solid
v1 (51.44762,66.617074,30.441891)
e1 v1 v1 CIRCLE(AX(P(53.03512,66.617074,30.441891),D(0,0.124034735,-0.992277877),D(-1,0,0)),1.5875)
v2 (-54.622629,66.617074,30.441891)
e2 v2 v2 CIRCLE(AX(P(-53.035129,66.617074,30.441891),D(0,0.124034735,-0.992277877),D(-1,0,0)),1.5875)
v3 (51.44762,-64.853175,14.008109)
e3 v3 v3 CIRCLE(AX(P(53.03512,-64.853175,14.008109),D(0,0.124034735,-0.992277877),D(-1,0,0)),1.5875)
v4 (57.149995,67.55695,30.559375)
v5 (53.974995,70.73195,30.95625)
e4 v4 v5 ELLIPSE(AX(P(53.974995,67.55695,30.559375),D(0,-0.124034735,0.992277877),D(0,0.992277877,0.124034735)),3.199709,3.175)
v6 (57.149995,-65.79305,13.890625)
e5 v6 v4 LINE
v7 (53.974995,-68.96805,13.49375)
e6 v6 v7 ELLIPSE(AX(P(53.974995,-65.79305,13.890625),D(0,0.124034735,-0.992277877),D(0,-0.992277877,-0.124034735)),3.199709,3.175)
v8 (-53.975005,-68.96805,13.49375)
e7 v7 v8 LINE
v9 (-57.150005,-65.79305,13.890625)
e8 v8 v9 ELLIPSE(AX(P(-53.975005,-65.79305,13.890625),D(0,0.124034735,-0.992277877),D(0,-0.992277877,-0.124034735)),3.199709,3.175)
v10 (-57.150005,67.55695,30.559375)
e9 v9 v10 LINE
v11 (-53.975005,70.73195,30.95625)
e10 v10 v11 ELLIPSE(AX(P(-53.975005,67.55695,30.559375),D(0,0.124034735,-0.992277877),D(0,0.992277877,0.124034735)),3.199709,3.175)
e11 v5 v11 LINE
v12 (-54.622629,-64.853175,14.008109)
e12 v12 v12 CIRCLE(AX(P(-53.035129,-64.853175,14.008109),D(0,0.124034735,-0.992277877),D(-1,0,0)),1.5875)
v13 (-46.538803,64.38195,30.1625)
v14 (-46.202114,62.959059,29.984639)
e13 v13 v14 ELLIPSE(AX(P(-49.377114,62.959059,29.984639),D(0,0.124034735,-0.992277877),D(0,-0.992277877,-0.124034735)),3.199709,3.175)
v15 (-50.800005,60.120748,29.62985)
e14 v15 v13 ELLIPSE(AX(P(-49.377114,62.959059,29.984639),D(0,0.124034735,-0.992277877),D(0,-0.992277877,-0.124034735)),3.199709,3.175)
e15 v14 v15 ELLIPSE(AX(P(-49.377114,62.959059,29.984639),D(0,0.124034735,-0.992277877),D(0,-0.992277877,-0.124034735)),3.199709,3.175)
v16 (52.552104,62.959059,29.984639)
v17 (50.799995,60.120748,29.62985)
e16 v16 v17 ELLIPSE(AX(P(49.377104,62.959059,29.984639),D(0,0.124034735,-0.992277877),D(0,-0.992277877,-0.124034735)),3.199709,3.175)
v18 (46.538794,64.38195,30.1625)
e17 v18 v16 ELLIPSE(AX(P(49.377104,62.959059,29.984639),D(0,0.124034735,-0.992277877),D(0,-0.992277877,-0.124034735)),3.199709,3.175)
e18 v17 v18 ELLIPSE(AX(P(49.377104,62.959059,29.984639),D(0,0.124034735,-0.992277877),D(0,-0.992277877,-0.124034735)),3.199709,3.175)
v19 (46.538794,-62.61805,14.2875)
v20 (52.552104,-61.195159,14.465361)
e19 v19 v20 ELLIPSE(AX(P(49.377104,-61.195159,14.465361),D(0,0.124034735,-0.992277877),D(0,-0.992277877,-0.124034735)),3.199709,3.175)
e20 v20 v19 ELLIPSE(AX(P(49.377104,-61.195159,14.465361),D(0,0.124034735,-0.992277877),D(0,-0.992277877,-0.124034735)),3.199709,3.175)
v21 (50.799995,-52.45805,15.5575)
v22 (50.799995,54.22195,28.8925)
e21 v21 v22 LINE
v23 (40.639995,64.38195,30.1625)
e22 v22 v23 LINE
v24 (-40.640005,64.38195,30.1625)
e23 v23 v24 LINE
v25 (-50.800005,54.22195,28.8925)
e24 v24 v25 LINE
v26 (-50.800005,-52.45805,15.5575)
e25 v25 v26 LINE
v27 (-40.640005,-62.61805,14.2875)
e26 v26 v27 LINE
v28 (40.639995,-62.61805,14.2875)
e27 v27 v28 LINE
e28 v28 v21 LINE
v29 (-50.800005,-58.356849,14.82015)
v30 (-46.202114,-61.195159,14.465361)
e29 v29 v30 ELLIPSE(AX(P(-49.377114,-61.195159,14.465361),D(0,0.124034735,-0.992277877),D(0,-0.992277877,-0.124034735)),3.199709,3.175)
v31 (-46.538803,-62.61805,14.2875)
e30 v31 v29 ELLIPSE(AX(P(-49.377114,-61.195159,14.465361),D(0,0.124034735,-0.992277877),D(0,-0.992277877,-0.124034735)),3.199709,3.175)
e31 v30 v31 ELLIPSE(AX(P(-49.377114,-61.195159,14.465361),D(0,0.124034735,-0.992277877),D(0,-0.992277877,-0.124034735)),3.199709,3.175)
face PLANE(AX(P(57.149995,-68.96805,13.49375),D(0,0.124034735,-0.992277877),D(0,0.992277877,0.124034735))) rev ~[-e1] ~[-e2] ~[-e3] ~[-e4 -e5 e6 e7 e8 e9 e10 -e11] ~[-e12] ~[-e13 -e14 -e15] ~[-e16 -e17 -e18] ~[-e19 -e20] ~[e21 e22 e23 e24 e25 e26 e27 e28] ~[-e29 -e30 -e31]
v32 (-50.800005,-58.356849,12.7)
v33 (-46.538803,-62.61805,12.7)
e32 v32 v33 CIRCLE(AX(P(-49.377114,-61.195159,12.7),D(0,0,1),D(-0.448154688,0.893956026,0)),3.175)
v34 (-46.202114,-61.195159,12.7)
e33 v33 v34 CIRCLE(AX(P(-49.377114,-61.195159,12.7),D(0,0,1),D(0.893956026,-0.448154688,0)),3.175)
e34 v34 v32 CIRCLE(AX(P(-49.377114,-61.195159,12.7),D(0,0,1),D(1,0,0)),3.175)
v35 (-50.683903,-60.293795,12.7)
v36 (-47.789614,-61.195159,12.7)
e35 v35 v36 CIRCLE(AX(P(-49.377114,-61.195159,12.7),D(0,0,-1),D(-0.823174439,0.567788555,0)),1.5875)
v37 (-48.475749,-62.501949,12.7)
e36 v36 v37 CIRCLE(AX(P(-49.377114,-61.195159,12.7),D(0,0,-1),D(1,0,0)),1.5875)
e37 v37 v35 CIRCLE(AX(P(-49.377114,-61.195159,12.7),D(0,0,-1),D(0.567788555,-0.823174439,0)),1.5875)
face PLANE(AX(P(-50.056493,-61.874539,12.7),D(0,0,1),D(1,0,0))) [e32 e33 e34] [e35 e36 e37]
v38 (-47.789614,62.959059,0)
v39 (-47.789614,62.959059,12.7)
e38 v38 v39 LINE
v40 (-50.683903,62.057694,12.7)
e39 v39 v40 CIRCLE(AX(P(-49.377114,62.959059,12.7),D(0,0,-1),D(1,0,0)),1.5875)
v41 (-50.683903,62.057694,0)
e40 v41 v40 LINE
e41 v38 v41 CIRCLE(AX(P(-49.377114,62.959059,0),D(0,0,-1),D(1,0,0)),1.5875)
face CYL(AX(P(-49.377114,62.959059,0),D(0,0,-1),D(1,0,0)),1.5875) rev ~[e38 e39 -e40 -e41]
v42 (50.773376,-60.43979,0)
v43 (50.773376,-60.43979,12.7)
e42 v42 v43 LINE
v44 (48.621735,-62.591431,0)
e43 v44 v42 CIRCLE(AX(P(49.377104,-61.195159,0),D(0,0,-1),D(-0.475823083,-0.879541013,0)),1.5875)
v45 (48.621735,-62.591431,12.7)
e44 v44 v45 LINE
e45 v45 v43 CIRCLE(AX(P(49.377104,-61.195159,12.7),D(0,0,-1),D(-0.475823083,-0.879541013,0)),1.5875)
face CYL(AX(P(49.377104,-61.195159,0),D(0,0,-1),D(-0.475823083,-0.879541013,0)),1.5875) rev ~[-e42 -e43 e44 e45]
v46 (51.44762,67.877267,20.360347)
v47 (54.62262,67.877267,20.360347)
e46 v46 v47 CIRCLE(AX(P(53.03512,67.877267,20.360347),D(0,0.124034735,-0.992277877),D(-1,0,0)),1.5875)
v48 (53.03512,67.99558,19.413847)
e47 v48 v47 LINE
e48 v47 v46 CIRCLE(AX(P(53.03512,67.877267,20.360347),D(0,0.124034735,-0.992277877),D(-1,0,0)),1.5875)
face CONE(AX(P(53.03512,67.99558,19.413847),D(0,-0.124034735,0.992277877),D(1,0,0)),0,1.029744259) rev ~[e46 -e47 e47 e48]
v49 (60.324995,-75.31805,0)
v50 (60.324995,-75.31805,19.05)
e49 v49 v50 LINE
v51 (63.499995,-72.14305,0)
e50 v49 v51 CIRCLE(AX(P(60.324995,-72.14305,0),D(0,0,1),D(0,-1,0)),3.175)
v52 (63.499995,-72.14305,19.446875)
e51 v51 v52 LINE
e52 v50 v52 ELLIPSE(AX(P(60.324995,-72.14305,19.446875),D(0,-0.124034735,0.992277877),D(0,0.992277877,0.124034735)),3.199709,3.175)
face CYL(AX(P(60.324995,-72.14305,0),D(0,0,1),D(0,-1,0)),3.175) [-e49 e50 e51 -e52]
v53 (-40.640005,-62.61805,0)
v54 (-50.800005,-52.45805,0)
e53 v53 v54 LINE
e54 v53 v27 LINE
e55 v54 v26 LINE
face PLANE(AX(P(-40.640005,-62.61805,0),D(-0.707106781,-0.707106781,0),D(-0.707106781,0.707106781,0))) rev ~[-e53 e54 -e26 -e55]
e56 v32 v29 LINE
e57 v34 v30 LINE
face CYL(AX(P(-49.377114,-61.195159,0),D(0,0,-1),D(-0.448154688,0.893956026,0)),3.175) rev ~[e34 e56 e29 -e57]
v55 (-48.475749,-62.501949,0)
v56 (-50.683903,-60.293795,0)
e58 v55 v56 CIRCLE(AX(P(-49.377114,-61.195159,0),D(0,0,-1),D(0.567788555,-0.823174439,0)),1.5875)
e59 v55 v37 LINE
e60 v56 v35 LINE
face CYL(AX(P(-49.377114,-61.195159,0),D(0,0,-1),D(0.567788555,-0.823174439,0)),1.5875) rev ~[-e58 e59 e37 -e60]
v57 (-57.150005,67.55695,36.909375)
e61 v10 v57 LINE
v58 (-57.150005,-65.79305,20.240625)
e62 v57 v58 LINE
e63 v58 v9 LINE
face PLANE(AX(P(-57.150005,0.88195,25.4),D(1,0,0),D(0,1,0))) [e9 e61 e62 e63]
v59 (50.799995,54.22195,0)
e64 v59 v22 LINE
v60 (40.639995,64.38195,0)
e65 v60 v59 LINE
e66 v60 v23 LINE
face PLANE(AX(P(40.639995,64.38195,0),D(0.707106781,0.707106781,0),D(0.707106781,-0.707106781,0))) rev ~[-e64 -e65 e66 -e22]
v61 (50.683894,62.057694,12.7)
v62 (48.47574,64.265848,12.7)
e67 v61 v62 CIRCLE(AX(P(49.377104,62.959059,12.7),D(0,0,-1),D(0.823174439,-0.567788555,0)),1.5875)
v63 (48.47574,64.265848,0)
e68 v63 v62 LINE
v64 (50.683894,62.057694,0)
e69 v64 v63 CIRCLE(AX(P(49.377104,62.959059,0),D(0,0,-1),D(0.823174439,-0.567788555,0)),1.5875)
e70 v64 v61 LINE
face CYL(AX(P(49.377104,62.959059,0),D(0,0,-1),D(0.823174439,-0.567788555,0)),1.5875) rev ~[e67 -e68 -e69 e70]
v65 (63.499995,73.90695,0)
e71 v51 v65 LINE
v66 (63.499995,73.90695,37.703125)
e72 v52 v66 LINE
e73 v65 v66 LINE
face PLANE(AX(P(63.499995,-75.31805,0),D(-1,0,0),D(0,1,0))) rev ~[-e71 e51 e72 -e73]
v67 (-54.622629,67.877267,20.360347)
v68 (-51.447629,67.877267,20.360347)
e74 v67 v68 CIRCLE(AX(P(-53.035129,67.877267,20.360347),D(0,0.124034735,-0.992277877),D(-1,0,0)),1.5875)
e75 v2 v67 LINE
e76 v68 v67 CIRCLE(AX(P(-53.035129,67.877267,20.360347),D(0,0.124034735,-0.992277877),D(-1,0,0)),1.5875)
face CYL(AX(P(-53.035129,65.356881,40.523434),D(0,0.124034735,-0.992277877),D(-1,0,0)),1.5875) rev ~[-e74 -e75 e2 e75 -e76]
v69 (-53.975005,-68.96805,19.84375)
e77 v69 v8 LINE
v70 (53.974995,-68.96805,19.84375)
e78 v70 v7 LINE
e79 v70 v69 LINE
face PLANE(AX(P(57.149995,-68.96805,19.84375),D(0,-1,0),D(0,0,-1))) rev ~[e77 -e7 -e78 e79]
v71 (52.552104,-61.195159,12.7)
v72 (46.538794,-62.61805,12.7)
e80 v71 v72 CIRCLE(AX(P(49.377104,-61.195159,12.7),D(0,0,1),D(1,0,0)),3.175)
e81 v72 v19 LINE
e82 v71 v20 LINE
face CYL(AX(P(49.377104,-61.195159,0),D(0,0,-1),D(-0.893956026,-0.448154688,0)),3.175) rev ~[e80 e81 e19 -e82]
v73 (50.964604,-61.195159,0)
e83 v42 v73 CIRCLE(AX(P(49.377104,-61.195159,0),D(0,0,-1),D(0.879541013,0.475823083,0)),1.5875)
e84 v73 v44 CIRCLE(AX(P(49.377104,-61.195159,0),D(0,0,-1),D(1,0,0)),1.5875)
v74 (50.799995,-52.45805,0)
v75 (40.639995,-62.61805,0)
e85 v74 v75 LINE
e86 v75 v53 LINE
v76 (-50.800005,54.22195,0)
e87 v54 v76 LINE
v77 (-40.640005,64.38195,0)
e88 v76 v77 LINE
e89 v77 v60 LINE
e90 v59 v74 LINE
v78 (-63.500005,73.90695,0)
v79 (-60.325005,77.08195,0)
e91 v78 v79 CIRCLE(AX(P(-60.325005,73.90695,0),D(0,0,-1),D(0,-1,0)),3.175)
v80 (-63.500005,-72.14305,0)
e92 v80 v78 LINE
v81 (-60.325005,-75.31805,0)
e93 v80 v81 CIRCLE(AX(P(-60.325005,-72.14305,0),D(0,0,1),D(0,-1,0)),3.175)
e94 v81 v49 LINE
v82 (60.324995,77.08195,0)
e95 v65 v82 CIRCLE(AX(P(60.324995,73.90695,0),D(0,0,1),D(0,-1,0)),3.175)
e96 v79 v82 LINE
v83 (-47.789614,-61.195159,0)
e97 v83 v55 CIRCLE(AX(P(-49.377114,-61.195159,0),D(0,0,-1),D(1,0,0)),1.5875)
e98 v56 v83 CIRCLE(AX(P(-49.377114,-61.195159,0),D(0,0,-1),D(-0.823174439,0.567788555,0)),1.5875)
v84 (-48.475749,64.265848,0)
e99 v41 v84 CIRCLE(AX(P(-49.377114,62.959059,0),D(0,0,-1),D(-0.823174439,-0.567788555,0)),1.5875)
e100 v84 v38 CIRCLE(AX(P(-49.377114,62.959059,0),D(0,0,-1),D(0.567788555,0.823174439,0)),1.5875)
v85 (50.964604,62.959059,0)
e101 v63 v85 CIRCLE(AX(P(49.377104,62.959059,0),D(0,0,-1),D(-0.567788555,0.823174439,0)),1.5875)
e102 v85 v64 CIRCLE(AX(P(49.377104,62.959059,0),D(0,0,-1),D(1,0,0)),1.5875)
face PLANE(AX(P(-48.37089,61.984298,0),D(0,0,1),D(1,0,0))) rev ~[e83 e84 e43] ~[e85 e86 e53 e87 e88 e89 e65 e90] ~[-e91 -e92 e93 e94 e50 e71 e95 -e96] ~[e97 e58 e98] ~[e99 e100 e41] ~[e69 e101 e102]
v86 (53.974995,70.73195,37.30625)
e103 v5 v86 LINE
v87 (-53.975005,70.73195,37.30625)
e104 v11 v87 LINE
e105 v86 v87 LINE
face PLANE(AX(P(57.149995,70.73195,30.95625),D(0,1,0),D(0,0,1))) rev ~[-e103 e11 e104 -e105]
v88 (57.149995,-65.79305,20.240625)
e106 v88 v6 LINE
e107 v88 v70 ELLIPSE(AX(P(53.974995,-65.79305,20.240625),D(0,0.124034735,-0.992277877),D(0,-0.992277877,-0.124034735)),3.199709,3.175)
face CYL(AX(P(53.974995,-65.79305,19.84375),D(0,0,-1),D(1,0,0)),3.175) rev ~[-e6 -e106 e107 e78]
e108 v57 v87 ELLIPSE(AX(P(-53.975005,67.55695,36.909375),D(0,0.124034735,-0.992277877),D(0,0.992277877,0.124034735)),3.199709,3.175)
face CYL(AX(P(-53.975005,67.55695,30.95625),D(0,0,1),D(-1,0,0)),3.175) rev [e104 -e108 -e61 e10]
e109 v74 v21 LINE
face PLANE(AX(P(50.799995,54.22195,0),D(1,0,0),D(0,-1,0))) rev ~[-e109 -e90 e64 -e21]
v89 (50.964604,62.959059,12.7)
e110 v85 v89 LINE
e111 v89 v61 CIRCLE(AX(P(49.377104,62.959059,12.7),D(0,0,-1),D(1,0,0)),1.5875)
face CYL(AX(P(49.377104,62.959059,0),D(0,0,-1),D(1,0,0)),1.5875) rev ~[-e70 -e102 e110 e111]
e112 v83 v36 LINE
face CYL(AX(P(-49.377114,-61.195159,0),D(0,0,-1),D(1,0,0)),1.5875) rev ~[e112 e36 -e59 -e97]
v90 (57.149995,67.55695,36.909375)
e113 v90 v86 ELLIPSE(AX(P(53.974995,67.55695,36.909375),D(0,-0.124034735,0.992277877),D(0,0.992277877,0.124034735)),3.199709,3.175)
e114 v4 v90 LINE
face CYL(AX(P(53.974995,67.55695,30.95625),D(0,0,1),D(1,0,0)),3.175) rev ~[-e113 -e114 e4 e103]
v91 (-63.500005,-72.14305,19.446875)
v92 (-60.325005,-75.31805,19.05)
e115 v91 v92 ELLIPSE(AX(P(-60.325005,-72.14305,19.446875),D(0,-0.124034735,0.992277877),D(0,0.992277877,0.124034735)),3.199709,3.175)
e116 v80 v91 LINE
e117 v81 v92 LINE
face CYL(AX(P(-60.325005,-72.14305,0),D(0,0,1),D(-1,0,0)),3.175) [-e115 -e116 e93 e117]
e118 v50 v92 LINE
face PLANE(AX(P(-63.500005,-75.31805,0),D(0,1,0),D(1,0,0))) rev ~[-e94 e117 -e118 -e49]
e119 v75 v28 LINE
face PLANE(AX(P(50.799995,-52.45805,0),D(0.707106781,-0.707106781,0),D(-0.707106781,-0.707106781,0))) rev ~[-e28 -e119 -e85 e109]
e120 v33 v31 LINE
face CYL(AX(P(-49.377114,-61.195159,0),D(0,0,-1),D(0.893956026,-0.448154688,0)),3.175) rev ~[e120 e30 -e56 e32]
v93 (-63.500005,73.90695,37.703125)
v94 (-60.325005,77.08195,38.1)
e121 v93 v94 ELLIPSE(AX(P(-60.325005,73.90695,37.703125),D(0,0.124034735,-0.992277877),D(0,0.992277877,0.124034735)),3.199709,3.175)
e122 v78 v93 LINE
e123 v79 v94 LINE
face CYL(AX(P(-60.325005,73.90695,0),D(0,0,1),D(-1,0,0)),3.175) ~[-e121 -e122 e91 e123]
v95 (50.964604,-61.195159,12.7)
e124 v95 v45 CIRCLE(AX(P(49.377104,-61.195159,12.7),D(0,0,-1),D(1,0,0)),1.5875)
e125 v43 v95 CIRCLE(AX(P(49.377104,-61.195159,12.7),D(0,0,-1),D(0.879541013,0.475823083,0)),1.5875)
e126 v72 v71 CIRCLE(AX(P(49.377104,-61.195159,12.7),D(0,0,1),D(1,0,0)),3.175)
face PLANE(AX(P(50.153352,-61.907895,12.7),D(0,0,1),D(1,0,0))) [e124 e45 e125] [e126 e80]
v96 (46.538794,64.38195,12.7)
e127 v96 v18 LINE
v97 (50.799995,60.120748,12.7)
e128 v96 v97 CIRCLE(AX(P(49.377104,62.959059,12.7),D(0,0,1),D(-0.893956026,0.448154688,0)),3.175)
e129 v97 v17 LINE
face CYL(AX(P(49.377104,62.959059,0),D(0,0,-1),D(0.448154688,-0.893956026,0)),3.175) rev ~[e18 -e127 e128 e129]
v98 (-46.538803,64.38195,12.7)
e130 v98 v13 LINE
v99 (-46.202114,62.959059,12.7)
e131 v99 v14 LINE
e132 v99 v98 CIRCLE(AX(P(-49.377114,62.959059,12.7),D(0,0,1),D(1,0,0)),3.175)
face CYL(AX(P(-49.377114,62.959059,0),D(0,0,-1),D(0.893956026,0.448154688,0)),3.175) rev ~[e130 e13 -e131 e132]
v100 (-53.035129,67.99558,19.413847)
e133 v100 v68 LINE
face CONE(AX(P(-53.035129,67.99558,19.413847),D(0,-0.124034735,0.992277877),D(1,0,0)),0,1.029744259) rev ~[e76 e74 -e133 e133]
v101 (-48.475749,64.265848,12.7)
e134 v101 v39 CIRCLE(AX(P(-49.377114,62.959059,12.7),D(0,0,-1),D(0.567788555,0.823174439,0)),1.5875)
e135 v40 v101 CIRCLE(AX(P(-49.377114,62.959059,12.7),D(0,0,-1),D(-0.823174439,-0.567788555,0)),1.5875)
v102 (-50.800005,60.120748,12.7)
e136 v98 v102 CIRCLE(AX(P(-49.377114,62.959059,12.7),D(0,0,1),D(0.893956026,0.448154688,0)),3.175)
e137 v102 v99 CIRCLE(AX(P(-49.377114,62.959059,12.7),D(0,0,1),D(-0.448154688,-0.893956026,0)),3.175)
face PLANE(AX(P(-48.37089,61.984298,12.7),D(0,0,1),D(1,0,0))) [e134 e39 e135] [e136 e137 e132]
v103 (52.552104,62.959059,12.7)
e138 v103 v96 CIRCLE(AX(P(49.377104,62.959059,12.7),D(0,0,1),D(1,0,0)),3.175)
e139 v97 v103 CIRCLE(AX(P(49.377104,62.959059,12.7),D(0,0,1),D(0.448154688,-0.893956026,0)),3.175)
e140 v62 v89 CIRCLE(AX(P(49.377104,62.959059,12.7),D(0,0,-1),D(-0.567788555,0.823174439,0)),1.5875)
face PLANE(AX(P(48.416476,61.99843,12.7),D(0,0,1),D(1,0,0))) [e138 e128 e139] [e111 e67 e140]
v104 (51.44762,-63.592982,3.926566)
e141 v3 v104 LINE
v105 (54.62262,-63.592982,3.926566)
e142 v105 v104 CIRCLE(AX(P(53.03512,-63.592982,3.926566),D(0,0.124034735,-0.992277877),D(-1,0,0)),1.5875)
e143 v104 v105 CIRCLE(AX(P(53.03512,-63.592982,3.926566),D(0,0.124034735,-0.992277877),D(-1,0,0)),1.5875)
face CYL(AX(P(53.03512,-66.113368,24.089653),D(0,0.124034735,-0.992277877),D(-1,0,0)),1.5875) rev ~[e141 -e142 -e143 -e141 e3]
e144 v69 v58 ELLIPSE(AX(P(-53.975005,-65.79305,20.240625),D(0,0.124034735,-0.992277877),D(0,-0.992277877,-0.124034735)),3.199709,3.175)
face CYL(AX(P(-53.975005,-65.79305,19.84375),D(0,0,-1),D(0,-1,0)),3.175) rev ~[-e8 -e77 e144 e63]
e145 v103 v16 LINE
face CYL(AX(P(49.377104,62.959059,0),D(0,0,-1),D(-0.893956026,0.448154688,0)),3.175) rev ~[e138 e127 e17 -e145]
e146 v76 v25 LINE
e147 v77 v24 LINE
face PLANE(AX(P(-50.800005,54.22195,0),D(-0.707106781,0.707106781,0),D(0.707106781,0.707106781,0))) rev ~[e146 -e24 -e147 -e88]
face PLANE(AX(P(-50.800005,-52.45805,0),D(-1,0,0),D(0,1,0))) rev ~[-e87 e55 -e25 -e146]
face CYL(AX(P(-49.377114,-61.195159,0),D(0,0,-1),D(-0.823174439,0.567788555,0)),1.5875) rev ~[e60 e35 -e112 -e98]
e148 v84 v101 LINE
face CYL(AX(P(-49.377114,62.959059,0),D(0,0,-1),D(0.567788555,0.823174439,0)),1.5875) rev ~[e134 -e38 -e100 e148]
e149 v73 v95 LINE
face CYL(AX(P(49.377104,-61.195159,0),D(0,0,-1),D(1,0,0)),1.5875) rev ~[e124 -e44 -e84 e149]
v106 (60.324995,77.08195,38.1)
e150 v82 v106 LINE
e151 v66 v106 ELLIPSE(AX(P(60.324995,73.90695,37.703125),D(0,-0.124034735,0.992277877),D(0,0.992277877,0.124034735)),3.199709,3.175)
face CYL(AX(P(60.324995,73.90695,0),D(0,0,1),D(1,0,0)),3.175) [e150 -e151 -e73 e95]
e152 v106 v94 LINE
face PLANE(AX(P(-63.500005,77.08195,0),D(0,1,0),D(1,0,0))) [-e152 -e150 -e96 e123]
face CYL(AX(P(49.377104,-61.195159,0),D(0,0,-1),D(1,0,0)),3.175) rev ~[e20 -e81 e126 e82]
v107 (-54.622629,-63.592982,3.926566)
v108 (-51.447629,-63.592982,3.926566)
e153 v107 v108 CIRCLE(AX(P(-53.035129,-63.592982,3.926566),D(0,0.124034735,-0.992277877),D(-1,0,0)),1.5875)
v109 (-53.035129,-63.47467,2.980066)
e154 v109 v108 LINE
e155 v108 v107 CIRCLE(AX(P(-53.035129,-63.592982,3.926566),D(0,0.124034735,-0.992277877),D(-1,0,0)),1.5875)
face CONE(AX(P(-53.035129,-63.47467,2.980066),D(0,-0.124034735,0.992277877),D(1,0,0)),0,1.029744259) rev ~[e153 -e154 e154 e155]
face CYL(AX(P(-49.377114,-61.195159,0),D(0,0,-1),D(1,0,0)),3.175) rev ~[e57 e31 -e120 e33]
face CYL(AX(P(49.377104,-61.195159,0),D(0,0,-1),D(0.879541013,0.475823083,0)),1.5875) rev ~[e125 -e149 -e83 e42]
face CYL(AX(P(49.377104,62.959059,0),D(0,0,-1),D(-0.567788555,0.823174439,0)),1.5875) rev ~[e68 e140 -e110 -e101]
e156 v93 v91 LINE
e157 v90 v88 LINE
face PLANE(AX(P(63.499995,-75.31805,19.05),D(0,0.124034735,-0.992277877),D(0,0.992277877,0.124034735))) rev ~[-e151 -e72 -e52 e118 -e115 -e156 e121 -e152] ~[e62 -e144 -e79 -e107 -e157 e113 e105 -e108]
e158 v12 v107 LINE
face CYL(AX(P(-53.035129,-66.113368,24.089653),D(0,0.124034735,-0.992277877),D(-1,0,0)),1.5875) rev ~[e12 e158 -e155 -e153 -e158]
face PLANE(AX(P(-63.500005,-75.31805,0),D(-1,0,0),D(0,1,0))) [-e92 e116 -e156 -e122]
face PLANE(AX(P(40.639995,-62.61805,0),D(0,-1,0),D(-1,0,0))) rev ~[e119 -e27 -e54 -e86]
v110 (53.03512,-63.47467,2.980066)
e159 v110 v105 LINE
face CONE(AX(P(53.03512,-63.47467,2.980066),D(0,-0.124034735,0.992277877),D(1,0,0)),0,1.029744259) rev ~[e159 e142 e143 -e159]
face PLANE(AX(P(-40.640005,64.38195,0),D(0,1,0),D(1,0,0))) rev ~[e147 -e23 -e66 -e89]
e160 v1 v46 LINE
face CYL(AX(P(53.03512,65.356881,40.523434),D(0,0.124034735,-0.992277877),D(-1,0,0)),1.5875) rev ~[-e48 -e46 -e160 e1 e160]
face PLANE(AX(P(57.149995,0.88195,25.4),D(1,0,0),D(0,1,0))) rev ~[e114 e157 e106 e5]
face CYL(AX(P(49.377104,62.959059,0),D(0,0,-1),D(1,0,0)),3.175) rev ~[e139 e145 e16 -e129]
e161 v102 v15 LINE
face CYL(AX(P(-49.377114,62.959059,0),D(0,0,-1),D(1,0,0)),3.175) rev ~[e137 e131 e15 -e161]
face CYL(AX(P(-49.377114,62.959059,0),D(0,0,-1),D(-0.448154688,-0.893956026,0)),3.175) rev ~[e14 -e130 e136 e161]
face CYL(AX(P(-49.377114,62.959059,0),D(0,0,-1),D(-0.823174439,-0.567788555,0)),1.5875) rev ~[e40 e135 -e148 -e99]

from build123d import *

# Parameters (mm, degrees)
F0_W     = 127
F0_H     = 152.4
F0_R     = 1.5875
F1_DEPTH = 76.2
F3_DEPTH = 133.858
F4_DEPTH = 12.7
F6_START = -6.35
F6_DEPTH = 114.3
F8_D     = 3.175
F8_DEPTH = 10.16
F8_TIP   = 0.9538662327
F9_R     = 3.175


with BuildPart() as f1:
    # F0 (on Top) → F1 (new body)
    with BuildSketch(Plane.XY):
        with Locations((-4.7115e-06, 0.8819496805)):
            Rectangle(F0_W, F0_H)
        with BuildLine():
            ThreePointArc((-57.1500047115, 67.5569496805), (-56.2200687418, 69.8020137107), (-53.9750047115, 70.7319496805))
            Line((-53.9750047115, 70.7319496805), (53.9749952885, 70.7319496805))
            ThreePointArc((53.9749952885, 70.7319496805), (56.2200593188, 69.8020137107), (57.1499952885, 67.5569496805))
            Line((57.1499952885, 67.5569496805), (57.1499952885, -65.7930503195))
            ThreePointArc((57.1499952885, -65.7930503195), (56.2200593188, -68.0381143498), (53.9749952885, -68.9680503195))
            Line((53.9749952885, -68.9680503195), (-53.9750047115, -68.9680503195))
            ThreePointArc((-53.9750047115, -68.9680503195), (-56.2200687418, -68.0381143498), (-57.1500047115, -65.7930503195))
            Line((-57.1500047115, -65.7930503195), (-57.1500047115, 67.5569496805))
        make_face(mode=Mode.SUBTRACT)
        with BuildLine():
            Line((53.9749952885, 70.7319496805), (-53.9750047115, 70.7319496805))
            ThreePointArc((-53.9750047115, 70.7319496805), (-56.2200687418, 69.8020137107), (-57.1500047115, 67.5569496805))
            Line((-57.1500047115, 67.5569496805), (-57.1500047115, -65.7930503195))
            ThreePointArc((-57.1500047115, -65.7930503195), (-56.2200687418, -68.0381143498), (-53.9750047115, -68.9680503195))
            Line((-53.9750047115, -68.9680503195), (53.9749952885, -68.9680503195))
            ThreePointArc((53.9749952885, -68.9680503195), (56.2200593188, -68.0381143498), (57.1499952885, -65.7930503195))
            Line((57.1499952885, -65.7930503195), (57.1499952885, 67.5569496805))
            ThreePointArc((57.1499952885, 67.5569496805), (56.2200593188, 69.8020137107), (53.9749952885, 70.7319496805))
        make_face()
        with Locations((-53.0410580749, -64.8591036829)):
            Circle(F0_R, mode=Mode.SUBTRACT)
        with Locations((53.0410486519, -64.8591036829)):
            Circle(F0_R, mode=Mode.SUBTRACT)
        with BuildLine():
            Line((-46.5388031962, 64.3819496805), (-40.6400047115, 64.3819496805))
            Line((-40.6400047115, 64.3819496805), (40.6399952885, 64.3819496805))
            Line((40.6399952885, 64.3819496805), (46.5387937732, 64.3819496805))
            ThreePointArc((46.5387937732, 64.3819496805), (50.1081956465, 66.0487397971), (52.5521041545, 62.9590585465))
            ThreePointArc((52.5521041545, 62.9590585465), (52.0787984702, 61.2912837341), (50.7999952885, 60.1207481652))
            Line((50.7999952885, 60.1207481652), (50.7999952885, 54.2219496805))
            Line((50.7999952885, 54.2219496805), (50.7999952885, -52.4580503195))
            Line((50.7999952885, -52.4580503195), (50.7999952885, -58.3568488042))
            ThreePointArc((50.7999952885, -58.3568488042), (52.0787984702, -59.5273843732), (52.5521041545, -61.1951591855))
            ThreePointArc((52.5521041545, -61.1951591855), (50.1081956465, -64.2848404361), (46.5387937732, -62.6180503195))
            Line((46.5387937732, -62.6180503195), (40.6399952885, -62.6180503195))
            Line((40.6399952885, -62.6180503195), (-40.6400047115, -62.6180503195))
            Line((-40.6400047115, -62.6180503195), (-46.5388031962, -62.6180503195))
            ThreePointArc((-46.5388031962, -62.6180503195), (-51.6221776078, -63.4402232158), (-50.8000047115, -58.3568488042))
            Line((-50.8000047115, -58.3568488042), (-50.8000047115, -52.4580503195))
            Line((-50.8000047115, -52.4580503195), (-50.8000047115, 54.2219496805))
            Line((-50.8000047115, 54.2219496805), (-50.8000047115, 60.1207481652))
            ThreePointArc((-50.8000047115, 60.1207481652), (-51.6221776078, 65.2041225768), (-46.5388031962, 64.3819496805))
        make_face(mode=Mode.SUBTRACT)
        with Locations((-53.0410580749, 66.6230030439)):
            Circle(F0_R, mode=Mode.SUBTRACT)
        with Locations((53.0410486519, 66.6230030439)):
            Circle(F0_R, mode=Mode.SUBTRACT)
        with BuildLine():
            Line((-50.8000047115, 54.2219496805), (-40.6400047115, 64.3819496805))
            Line((-40.6400047115, 64.3819496805), (-46.5388031962, 64.3819496805))
            ThreePointArc((-46.5388031962, 64.3819496805), (-46.2874323269, 63.6901500385), (-46.2021135775, 62.9590585465))
            ThreePointArc((-46.2021135775, 62.9590585465), (-47.7093387651, 60.2573642308), (-50.8000047115, 60.1207481652))
            Line((-50.8000047115, 60.1207481652), (-50.8000047115, 54.2219496805))
        make_face()
        with BuildLine():
            Line((46.5387937732, 64.3819496805), (40.6399952885, 64.3819496805))
            Line((40.6399952885, 64.3819496805), (50.7999952885, 54.2219496805))
            Line((50.7999952885, 54.2219496805), (50.7999952885, 60.1207481652))
            ThreePointArc((50.7999952885, 60.1207481652), (47.1320401243, 60.7139945162), (46.5387937732, 64.3819496805))
        make_face()
        with BuildLine():
            Line((50.7999952885, -58.3568488042), (50.7999952885, -52.4580503195))
            Line((50.7999952885, -52.4580503195), (40.6399952885, -62.6180503195))
            Line((40.6399952885, -62.6180503195), (46.5387937732, -62.6180503195))
            ThreePointArc((46.5387937732, -62.6180503195), (47.1320401243, -58.9500951553), (50.7999952885, -58.3568488042))
        make_face()
        with BuildLine():
            Line((-40.6400047115, -62.6180503195), (-50.8000047115, -52.4580503195))
            Line((-50.8000047115, -52.4580503195), (-50.8000047115, -58.3568488042))
            ThreePointArc((-50.8000047115, -58.3568488042), (-47.7093387651, -58.4934648699), (-46.2021135775, -61.1951591855))
            ThreePointArc((-46.2021135775, -61.1951591855), (-46.2874323269, -61.9262506775), (-46.5388031962, -62.6180503195))
            Line((-46.5388031962, -62.6180503195), (-40.6400047115, -62.6180503195))
        make_face()
        with Locations((53.0410486519, 66.6230030439)):
            Circle(F0_R)
        with Locations((-53.0410580749, 66.6230030439)):
            Circle(F0_R)
        with Locations((53.0410486519, -64.8591036829)):
            Circle(F0_R)
        with Locations((-53.0410580749, -64.8591036829)):
            Circle(F0_R)
    extrude(amount=F1_DEPTH)

    # F2 (on face) → F3 (cut)
    with BuildSketch(Plane.YZ.offset(63.4999952885)):
        Polygon((77.0819496805, 38.1), (77.1753489971, 82.9634442925), (-75.3835588694, 82.9634442925), (-75.3180503195, 19.05), align=None)
    extrude(amount=-F3_DEPTH, mode=Mode.SUBTRACT)

    # F0 (on Top) → F4 (join)
    with BuildSketch(Plane.XY):
        with BuildLine():
            ThreePointArc((-46.2021135775, 62.9590585465), (-46.2874323269, 63.6901500385), (-46.5388031962, 64.3819496805))
            Line((-46.5388031962, 64.3819496805), (-47.6250047115, 64.3819496805))
            ThreePointArc((-47.6250047115, 64.3819496805), (-48.0543198265, 64.3527903522), (-48.4757492467, 64.2658479684))
            ThreePointArc((-48.4757492467, 64.2658479684), (-47.9715759357, 63.6970424131), (-47.7896135775, 62.9590585465))
            ThreePointArc((-47.7896135775, 62.9590585465), (-48.9050817763, 61.4433599522), (-50.6839029994, 62.0576942157))
            ThreePointArc((-50.6839029994, 62.0576942157), (-50.7708453832, 61.6362647954), (-50.8000047115, 61.2069496805))
            Line((-50.8000047115, 61.2069496805), (-50.8000047115, 60.1207481652))
            ThreePointArc((-50.8000047115, 60.1207481652), (-47.7093387651, 60.2573642308), (-46.2021135775, 62.9590585465))
        make_face()
        with BuildLine():
            Line((-47.6250047115, 64.3819496805), (-46.5388031962, 64.3819496805))
            ThreePointArc((-46.5388031962, 64.3819496805), (-51.6221776078, 65.2041225768), (-50.8000047115, 60.1207481652))
            Line((-50.8000047115, 60.1207481652), (-50.8000047115, 61.2069496805))
            ThreePointArc((-50.8000047115, 61.2069496805), (-50.7708453832, 61.6362647954), (-50.6839029994, 62.0576942157))
            ThreePointArc((-50.6839029994, 62.0576942157), (-50.4996455926, 64.0815905616), (-48.4757492467, 64.2658479684))
            ThreePointArc((-48.4757492467, 64.2658479684), (-48.0543198265, 64.3527903522), (-47.6250047115, 64.3819496805))
        make_face()
        with BuildLine():
            Line((47.6249952885, 64.3819496805), (46.5387937732, 64.3819496805))
            ThreePointArc((46.5387937732, 64.3819496805), (47.1320401243, 60.7139945162), (50.7999952885, 60.1207481652))
            Line((50.7999952885, 60.1207481652), (50.7999952885, 61.2069496805))
            ThreePointArc((50.7999952885, 61.2069496805), (50.7708359603, 61.6362647954), (50.6838935764, 62.0576942157))
            ThreePointArc((50.6838935764, 62.0576942157), (48.2545721394, 61.8365265314), (48.4757398237, 64.2658479684))
            ThreePointArc((48.4757398237, 64.2658479684), (48.0543104035, 64.3527903522), (47.6249952885, 64.3819496805))
        make_face()
        with BuildLine():
            ThreePointArc((52.5521041545, 62.9590585465), (50.1081956465, 66.0487397971), (46.5387937732, 64.3819496805))
            Line((46.5387937732, 64.3819496805), (47.6249952885, 64.3819496805))
            ThreePointArc((47.6249952885, 64.3819496805), (48.0543104035, 64.3527903522), (48.4757398237, 64.2658479684))
            ThreePointArc((48.4757398237, 64.2658479684), (50.1150880212, 64.3645961883), (50.9646041545, 62.9590585465))
            ThreePointArc((50.9646041545, 62.9590585465), (50.8928027488, 62.4870267453), (50.6838935764, 62.0576942157))
            ThreePointArc((50.6838935764, 62.0576942157), (50.7708359603, 61.6362647954), (50.7999952885, 61.2069496805))
            Line((50.7999952885, 61.2069496805), (50.7999952885, 60.1207481652))
            ThreePointArc((50.7999952885, 60.1207481652), (52.0787984702, 61.2912837341), (52.5521041545, 62.9590585465))
        make_face()
        with BuildLine():
            ThreePointArc((52.5521041545, -61.1951591855), (52.0787984702, -59.5273843732), (50.7999952885, -58.3568488042))
            Line((50.7999952885, -58.3568488042), (50.7999952885, -60.0726271704))
            ThreePointArc((50.7999952885, -60.0726271704), (50.7933316222, -60.2566904654), (50.7733755129, -60.4397900414))
            ThreePointArc((50.7733755129, -60.4397900414), (50.9160546137, -60.8055597318), (50.9646041545, -61.1951591855))
            ThreePointArc((50.9646041545, -61.1951591855), (50.1898180444, -62.5588499068), (48.6217350104, -62.5914305439))
            ThreePointArc((48.6217350104, -62.5914305439), (48.4386354344, -62.6113866532), (48.2545721394, -62.6180503195))
            Line((48.2545721394, -62.6180503195), (46.5387937732, -62.6180503195))
            ThreePointArc((46.5387937732, -62.6180503195), (50.1081956465, -64.2848404361), (52.5521041545, -61.1951591855))
        make_face()
        with BuildLine():
            Line((50.7999952885, -60.0726271704), (50.7999952885, -58.3568488042))
            ThreePointArc((50.7999952885, -58.3568488042), (47.1320401243, -58.9500951553), (46.5387937732, -62.6180503195))
            Line((46.5387937732, -62.6180503195), (48.2545721394, -62.6180503195))
            ThreePointArc((48.2545721394, -62.6180503195), (48.4386354344, -62.6113866532), (48.6217350104, -62.5914305439))
            ThreePointArc((48.6217350104, -62.5914305439), (48.2545721394, -60.0726271704), (50.7733755129, -60.4397900414))
            ThreePointArc((50.7733755129, -60.4397900414), (50.7933316222, -60.2566904654), (50.7999952885, -60.0726271704))
        make_face()
        with BuildLine():
            Line((-50.8000047115, -59.4430503195), (-50.8000047115, -58.3568488042))
            ThreePointArc((-50.8000047115, -58.3568488042), (-51.6221776078, -63.4402232158), (-46.5388031962, -62.6180503195))
            Line((-46.5388031962, -62.6180503195), (-47.6250047115, -62.6180503195))
            ThreePointArc((-47.6250047115, -62.6180503195), (-48.0543198265, -62.5888909913), (-48.4757492467, -62.5019486074))
            ThreePointArc((-48.4757492467, -62.5019486074), (-50.4996455926, -62.3176912007), (-50.6839029994, -60.2937948547))
            ThreePointArc((-50.6839029994, -60.2937948547), (-50.7708453832, -59.8723654345), (-50.8000047115, -59.4430503195))
        make_face()
        with BuildLine():
            ThreePointArc((-46.2021135775, -61.1951591855), (-47.7093387651, -58.4934648699), (-50.8000047115, -58.3568488042))
            Line((-50.8000047115, -58.3568488042), (-50.8000047115, -59.4430503195))
            ThreePointArc((-50.8000047115, -59.4430503195), (-50.7708453832, -59.8723654345), (-50.6839029994, -60.2937948547))
            ThreePointArc((-50.6839029994, -60.2937948547), (-48.9050817763, -59.6794605913), (-47.7896135775, -61.1951591855))
            ThreePointArc((-47.7896135775, -61.1951591855), (-47.9715759357, -61.9331430522), (-48.4757492467, -62.5019486074))
            ThreePointArc((-48.4757492467, -62.5019486074), (-48.0543198265, -62.5888909913), (-47.6250047115, -62.6180503195))
            Line((-47.6250047115, -62.6180503195), (-46.5388031962, -62.6180503195))
            ThreePointArc((-46.5388031962, -62.6180503195), (-46.2874323269, -61.9262506775), (-46.2021135775, -61.1951591855))
        make_face()
    extrude(amount=F4_DEPTH)

    # F5 (on face) → F6 (cut)
    with BuildSketch(Plane.YZ.offset(63.4999952885).offset(F6_START)):
        Polygon((70.7319496805, 37.30625), (-68.9680503195, 19.84375), (-68.9680503195, 13.49375), (70.7319496805, 30.9562500008), align=None)
    extrude(amount=-F6_DEPTH, mode=Mode.SUBTRACT)

    # F8
    with Locations(Plane(origin=(0, -2.7218161589, 21.7745292705), x_dir=(1, 0, 0), z_dir=(0, -0.1240347346, 0.9922778767))):
        with Locations((-53.0351293557, 69.8785008825), (53.0351199327, 69.8785008825), (53.0351199327, -62.6148786171), (-53.0351293557, -62.6148786171)):
            Hole(F8_D / 2, depth=F8_DEPTH)
            with Locations((0, 0, -(F8_DEPTH + F8_TIP / 2))):  # 118° drill point
                Cone(0, F8_D / 2, F8_TIP, mode=Mode.SUBTRACT)

    # F9
    f9_edges = [f1.edges().sort_by_distance(p)[0] for p in [
        (63.499995, 77.08195, 19.05),
        (-63.500005, 77.08195, 19.05),
        (63.499995, -75.31805, 9.525),
        (-63.500005, -75.31805, 9.525),
        (-57.150005, 70.73195, 34.13125),
        (57.149995, 70.73195, 34.13125),
        (-57.150005, -68.96805, 16.66875),
        (57.149995, -68.96805, 16.66875),
    ]]
    fillet(f9_edges, radius=F9_R)


solid = f1.part
